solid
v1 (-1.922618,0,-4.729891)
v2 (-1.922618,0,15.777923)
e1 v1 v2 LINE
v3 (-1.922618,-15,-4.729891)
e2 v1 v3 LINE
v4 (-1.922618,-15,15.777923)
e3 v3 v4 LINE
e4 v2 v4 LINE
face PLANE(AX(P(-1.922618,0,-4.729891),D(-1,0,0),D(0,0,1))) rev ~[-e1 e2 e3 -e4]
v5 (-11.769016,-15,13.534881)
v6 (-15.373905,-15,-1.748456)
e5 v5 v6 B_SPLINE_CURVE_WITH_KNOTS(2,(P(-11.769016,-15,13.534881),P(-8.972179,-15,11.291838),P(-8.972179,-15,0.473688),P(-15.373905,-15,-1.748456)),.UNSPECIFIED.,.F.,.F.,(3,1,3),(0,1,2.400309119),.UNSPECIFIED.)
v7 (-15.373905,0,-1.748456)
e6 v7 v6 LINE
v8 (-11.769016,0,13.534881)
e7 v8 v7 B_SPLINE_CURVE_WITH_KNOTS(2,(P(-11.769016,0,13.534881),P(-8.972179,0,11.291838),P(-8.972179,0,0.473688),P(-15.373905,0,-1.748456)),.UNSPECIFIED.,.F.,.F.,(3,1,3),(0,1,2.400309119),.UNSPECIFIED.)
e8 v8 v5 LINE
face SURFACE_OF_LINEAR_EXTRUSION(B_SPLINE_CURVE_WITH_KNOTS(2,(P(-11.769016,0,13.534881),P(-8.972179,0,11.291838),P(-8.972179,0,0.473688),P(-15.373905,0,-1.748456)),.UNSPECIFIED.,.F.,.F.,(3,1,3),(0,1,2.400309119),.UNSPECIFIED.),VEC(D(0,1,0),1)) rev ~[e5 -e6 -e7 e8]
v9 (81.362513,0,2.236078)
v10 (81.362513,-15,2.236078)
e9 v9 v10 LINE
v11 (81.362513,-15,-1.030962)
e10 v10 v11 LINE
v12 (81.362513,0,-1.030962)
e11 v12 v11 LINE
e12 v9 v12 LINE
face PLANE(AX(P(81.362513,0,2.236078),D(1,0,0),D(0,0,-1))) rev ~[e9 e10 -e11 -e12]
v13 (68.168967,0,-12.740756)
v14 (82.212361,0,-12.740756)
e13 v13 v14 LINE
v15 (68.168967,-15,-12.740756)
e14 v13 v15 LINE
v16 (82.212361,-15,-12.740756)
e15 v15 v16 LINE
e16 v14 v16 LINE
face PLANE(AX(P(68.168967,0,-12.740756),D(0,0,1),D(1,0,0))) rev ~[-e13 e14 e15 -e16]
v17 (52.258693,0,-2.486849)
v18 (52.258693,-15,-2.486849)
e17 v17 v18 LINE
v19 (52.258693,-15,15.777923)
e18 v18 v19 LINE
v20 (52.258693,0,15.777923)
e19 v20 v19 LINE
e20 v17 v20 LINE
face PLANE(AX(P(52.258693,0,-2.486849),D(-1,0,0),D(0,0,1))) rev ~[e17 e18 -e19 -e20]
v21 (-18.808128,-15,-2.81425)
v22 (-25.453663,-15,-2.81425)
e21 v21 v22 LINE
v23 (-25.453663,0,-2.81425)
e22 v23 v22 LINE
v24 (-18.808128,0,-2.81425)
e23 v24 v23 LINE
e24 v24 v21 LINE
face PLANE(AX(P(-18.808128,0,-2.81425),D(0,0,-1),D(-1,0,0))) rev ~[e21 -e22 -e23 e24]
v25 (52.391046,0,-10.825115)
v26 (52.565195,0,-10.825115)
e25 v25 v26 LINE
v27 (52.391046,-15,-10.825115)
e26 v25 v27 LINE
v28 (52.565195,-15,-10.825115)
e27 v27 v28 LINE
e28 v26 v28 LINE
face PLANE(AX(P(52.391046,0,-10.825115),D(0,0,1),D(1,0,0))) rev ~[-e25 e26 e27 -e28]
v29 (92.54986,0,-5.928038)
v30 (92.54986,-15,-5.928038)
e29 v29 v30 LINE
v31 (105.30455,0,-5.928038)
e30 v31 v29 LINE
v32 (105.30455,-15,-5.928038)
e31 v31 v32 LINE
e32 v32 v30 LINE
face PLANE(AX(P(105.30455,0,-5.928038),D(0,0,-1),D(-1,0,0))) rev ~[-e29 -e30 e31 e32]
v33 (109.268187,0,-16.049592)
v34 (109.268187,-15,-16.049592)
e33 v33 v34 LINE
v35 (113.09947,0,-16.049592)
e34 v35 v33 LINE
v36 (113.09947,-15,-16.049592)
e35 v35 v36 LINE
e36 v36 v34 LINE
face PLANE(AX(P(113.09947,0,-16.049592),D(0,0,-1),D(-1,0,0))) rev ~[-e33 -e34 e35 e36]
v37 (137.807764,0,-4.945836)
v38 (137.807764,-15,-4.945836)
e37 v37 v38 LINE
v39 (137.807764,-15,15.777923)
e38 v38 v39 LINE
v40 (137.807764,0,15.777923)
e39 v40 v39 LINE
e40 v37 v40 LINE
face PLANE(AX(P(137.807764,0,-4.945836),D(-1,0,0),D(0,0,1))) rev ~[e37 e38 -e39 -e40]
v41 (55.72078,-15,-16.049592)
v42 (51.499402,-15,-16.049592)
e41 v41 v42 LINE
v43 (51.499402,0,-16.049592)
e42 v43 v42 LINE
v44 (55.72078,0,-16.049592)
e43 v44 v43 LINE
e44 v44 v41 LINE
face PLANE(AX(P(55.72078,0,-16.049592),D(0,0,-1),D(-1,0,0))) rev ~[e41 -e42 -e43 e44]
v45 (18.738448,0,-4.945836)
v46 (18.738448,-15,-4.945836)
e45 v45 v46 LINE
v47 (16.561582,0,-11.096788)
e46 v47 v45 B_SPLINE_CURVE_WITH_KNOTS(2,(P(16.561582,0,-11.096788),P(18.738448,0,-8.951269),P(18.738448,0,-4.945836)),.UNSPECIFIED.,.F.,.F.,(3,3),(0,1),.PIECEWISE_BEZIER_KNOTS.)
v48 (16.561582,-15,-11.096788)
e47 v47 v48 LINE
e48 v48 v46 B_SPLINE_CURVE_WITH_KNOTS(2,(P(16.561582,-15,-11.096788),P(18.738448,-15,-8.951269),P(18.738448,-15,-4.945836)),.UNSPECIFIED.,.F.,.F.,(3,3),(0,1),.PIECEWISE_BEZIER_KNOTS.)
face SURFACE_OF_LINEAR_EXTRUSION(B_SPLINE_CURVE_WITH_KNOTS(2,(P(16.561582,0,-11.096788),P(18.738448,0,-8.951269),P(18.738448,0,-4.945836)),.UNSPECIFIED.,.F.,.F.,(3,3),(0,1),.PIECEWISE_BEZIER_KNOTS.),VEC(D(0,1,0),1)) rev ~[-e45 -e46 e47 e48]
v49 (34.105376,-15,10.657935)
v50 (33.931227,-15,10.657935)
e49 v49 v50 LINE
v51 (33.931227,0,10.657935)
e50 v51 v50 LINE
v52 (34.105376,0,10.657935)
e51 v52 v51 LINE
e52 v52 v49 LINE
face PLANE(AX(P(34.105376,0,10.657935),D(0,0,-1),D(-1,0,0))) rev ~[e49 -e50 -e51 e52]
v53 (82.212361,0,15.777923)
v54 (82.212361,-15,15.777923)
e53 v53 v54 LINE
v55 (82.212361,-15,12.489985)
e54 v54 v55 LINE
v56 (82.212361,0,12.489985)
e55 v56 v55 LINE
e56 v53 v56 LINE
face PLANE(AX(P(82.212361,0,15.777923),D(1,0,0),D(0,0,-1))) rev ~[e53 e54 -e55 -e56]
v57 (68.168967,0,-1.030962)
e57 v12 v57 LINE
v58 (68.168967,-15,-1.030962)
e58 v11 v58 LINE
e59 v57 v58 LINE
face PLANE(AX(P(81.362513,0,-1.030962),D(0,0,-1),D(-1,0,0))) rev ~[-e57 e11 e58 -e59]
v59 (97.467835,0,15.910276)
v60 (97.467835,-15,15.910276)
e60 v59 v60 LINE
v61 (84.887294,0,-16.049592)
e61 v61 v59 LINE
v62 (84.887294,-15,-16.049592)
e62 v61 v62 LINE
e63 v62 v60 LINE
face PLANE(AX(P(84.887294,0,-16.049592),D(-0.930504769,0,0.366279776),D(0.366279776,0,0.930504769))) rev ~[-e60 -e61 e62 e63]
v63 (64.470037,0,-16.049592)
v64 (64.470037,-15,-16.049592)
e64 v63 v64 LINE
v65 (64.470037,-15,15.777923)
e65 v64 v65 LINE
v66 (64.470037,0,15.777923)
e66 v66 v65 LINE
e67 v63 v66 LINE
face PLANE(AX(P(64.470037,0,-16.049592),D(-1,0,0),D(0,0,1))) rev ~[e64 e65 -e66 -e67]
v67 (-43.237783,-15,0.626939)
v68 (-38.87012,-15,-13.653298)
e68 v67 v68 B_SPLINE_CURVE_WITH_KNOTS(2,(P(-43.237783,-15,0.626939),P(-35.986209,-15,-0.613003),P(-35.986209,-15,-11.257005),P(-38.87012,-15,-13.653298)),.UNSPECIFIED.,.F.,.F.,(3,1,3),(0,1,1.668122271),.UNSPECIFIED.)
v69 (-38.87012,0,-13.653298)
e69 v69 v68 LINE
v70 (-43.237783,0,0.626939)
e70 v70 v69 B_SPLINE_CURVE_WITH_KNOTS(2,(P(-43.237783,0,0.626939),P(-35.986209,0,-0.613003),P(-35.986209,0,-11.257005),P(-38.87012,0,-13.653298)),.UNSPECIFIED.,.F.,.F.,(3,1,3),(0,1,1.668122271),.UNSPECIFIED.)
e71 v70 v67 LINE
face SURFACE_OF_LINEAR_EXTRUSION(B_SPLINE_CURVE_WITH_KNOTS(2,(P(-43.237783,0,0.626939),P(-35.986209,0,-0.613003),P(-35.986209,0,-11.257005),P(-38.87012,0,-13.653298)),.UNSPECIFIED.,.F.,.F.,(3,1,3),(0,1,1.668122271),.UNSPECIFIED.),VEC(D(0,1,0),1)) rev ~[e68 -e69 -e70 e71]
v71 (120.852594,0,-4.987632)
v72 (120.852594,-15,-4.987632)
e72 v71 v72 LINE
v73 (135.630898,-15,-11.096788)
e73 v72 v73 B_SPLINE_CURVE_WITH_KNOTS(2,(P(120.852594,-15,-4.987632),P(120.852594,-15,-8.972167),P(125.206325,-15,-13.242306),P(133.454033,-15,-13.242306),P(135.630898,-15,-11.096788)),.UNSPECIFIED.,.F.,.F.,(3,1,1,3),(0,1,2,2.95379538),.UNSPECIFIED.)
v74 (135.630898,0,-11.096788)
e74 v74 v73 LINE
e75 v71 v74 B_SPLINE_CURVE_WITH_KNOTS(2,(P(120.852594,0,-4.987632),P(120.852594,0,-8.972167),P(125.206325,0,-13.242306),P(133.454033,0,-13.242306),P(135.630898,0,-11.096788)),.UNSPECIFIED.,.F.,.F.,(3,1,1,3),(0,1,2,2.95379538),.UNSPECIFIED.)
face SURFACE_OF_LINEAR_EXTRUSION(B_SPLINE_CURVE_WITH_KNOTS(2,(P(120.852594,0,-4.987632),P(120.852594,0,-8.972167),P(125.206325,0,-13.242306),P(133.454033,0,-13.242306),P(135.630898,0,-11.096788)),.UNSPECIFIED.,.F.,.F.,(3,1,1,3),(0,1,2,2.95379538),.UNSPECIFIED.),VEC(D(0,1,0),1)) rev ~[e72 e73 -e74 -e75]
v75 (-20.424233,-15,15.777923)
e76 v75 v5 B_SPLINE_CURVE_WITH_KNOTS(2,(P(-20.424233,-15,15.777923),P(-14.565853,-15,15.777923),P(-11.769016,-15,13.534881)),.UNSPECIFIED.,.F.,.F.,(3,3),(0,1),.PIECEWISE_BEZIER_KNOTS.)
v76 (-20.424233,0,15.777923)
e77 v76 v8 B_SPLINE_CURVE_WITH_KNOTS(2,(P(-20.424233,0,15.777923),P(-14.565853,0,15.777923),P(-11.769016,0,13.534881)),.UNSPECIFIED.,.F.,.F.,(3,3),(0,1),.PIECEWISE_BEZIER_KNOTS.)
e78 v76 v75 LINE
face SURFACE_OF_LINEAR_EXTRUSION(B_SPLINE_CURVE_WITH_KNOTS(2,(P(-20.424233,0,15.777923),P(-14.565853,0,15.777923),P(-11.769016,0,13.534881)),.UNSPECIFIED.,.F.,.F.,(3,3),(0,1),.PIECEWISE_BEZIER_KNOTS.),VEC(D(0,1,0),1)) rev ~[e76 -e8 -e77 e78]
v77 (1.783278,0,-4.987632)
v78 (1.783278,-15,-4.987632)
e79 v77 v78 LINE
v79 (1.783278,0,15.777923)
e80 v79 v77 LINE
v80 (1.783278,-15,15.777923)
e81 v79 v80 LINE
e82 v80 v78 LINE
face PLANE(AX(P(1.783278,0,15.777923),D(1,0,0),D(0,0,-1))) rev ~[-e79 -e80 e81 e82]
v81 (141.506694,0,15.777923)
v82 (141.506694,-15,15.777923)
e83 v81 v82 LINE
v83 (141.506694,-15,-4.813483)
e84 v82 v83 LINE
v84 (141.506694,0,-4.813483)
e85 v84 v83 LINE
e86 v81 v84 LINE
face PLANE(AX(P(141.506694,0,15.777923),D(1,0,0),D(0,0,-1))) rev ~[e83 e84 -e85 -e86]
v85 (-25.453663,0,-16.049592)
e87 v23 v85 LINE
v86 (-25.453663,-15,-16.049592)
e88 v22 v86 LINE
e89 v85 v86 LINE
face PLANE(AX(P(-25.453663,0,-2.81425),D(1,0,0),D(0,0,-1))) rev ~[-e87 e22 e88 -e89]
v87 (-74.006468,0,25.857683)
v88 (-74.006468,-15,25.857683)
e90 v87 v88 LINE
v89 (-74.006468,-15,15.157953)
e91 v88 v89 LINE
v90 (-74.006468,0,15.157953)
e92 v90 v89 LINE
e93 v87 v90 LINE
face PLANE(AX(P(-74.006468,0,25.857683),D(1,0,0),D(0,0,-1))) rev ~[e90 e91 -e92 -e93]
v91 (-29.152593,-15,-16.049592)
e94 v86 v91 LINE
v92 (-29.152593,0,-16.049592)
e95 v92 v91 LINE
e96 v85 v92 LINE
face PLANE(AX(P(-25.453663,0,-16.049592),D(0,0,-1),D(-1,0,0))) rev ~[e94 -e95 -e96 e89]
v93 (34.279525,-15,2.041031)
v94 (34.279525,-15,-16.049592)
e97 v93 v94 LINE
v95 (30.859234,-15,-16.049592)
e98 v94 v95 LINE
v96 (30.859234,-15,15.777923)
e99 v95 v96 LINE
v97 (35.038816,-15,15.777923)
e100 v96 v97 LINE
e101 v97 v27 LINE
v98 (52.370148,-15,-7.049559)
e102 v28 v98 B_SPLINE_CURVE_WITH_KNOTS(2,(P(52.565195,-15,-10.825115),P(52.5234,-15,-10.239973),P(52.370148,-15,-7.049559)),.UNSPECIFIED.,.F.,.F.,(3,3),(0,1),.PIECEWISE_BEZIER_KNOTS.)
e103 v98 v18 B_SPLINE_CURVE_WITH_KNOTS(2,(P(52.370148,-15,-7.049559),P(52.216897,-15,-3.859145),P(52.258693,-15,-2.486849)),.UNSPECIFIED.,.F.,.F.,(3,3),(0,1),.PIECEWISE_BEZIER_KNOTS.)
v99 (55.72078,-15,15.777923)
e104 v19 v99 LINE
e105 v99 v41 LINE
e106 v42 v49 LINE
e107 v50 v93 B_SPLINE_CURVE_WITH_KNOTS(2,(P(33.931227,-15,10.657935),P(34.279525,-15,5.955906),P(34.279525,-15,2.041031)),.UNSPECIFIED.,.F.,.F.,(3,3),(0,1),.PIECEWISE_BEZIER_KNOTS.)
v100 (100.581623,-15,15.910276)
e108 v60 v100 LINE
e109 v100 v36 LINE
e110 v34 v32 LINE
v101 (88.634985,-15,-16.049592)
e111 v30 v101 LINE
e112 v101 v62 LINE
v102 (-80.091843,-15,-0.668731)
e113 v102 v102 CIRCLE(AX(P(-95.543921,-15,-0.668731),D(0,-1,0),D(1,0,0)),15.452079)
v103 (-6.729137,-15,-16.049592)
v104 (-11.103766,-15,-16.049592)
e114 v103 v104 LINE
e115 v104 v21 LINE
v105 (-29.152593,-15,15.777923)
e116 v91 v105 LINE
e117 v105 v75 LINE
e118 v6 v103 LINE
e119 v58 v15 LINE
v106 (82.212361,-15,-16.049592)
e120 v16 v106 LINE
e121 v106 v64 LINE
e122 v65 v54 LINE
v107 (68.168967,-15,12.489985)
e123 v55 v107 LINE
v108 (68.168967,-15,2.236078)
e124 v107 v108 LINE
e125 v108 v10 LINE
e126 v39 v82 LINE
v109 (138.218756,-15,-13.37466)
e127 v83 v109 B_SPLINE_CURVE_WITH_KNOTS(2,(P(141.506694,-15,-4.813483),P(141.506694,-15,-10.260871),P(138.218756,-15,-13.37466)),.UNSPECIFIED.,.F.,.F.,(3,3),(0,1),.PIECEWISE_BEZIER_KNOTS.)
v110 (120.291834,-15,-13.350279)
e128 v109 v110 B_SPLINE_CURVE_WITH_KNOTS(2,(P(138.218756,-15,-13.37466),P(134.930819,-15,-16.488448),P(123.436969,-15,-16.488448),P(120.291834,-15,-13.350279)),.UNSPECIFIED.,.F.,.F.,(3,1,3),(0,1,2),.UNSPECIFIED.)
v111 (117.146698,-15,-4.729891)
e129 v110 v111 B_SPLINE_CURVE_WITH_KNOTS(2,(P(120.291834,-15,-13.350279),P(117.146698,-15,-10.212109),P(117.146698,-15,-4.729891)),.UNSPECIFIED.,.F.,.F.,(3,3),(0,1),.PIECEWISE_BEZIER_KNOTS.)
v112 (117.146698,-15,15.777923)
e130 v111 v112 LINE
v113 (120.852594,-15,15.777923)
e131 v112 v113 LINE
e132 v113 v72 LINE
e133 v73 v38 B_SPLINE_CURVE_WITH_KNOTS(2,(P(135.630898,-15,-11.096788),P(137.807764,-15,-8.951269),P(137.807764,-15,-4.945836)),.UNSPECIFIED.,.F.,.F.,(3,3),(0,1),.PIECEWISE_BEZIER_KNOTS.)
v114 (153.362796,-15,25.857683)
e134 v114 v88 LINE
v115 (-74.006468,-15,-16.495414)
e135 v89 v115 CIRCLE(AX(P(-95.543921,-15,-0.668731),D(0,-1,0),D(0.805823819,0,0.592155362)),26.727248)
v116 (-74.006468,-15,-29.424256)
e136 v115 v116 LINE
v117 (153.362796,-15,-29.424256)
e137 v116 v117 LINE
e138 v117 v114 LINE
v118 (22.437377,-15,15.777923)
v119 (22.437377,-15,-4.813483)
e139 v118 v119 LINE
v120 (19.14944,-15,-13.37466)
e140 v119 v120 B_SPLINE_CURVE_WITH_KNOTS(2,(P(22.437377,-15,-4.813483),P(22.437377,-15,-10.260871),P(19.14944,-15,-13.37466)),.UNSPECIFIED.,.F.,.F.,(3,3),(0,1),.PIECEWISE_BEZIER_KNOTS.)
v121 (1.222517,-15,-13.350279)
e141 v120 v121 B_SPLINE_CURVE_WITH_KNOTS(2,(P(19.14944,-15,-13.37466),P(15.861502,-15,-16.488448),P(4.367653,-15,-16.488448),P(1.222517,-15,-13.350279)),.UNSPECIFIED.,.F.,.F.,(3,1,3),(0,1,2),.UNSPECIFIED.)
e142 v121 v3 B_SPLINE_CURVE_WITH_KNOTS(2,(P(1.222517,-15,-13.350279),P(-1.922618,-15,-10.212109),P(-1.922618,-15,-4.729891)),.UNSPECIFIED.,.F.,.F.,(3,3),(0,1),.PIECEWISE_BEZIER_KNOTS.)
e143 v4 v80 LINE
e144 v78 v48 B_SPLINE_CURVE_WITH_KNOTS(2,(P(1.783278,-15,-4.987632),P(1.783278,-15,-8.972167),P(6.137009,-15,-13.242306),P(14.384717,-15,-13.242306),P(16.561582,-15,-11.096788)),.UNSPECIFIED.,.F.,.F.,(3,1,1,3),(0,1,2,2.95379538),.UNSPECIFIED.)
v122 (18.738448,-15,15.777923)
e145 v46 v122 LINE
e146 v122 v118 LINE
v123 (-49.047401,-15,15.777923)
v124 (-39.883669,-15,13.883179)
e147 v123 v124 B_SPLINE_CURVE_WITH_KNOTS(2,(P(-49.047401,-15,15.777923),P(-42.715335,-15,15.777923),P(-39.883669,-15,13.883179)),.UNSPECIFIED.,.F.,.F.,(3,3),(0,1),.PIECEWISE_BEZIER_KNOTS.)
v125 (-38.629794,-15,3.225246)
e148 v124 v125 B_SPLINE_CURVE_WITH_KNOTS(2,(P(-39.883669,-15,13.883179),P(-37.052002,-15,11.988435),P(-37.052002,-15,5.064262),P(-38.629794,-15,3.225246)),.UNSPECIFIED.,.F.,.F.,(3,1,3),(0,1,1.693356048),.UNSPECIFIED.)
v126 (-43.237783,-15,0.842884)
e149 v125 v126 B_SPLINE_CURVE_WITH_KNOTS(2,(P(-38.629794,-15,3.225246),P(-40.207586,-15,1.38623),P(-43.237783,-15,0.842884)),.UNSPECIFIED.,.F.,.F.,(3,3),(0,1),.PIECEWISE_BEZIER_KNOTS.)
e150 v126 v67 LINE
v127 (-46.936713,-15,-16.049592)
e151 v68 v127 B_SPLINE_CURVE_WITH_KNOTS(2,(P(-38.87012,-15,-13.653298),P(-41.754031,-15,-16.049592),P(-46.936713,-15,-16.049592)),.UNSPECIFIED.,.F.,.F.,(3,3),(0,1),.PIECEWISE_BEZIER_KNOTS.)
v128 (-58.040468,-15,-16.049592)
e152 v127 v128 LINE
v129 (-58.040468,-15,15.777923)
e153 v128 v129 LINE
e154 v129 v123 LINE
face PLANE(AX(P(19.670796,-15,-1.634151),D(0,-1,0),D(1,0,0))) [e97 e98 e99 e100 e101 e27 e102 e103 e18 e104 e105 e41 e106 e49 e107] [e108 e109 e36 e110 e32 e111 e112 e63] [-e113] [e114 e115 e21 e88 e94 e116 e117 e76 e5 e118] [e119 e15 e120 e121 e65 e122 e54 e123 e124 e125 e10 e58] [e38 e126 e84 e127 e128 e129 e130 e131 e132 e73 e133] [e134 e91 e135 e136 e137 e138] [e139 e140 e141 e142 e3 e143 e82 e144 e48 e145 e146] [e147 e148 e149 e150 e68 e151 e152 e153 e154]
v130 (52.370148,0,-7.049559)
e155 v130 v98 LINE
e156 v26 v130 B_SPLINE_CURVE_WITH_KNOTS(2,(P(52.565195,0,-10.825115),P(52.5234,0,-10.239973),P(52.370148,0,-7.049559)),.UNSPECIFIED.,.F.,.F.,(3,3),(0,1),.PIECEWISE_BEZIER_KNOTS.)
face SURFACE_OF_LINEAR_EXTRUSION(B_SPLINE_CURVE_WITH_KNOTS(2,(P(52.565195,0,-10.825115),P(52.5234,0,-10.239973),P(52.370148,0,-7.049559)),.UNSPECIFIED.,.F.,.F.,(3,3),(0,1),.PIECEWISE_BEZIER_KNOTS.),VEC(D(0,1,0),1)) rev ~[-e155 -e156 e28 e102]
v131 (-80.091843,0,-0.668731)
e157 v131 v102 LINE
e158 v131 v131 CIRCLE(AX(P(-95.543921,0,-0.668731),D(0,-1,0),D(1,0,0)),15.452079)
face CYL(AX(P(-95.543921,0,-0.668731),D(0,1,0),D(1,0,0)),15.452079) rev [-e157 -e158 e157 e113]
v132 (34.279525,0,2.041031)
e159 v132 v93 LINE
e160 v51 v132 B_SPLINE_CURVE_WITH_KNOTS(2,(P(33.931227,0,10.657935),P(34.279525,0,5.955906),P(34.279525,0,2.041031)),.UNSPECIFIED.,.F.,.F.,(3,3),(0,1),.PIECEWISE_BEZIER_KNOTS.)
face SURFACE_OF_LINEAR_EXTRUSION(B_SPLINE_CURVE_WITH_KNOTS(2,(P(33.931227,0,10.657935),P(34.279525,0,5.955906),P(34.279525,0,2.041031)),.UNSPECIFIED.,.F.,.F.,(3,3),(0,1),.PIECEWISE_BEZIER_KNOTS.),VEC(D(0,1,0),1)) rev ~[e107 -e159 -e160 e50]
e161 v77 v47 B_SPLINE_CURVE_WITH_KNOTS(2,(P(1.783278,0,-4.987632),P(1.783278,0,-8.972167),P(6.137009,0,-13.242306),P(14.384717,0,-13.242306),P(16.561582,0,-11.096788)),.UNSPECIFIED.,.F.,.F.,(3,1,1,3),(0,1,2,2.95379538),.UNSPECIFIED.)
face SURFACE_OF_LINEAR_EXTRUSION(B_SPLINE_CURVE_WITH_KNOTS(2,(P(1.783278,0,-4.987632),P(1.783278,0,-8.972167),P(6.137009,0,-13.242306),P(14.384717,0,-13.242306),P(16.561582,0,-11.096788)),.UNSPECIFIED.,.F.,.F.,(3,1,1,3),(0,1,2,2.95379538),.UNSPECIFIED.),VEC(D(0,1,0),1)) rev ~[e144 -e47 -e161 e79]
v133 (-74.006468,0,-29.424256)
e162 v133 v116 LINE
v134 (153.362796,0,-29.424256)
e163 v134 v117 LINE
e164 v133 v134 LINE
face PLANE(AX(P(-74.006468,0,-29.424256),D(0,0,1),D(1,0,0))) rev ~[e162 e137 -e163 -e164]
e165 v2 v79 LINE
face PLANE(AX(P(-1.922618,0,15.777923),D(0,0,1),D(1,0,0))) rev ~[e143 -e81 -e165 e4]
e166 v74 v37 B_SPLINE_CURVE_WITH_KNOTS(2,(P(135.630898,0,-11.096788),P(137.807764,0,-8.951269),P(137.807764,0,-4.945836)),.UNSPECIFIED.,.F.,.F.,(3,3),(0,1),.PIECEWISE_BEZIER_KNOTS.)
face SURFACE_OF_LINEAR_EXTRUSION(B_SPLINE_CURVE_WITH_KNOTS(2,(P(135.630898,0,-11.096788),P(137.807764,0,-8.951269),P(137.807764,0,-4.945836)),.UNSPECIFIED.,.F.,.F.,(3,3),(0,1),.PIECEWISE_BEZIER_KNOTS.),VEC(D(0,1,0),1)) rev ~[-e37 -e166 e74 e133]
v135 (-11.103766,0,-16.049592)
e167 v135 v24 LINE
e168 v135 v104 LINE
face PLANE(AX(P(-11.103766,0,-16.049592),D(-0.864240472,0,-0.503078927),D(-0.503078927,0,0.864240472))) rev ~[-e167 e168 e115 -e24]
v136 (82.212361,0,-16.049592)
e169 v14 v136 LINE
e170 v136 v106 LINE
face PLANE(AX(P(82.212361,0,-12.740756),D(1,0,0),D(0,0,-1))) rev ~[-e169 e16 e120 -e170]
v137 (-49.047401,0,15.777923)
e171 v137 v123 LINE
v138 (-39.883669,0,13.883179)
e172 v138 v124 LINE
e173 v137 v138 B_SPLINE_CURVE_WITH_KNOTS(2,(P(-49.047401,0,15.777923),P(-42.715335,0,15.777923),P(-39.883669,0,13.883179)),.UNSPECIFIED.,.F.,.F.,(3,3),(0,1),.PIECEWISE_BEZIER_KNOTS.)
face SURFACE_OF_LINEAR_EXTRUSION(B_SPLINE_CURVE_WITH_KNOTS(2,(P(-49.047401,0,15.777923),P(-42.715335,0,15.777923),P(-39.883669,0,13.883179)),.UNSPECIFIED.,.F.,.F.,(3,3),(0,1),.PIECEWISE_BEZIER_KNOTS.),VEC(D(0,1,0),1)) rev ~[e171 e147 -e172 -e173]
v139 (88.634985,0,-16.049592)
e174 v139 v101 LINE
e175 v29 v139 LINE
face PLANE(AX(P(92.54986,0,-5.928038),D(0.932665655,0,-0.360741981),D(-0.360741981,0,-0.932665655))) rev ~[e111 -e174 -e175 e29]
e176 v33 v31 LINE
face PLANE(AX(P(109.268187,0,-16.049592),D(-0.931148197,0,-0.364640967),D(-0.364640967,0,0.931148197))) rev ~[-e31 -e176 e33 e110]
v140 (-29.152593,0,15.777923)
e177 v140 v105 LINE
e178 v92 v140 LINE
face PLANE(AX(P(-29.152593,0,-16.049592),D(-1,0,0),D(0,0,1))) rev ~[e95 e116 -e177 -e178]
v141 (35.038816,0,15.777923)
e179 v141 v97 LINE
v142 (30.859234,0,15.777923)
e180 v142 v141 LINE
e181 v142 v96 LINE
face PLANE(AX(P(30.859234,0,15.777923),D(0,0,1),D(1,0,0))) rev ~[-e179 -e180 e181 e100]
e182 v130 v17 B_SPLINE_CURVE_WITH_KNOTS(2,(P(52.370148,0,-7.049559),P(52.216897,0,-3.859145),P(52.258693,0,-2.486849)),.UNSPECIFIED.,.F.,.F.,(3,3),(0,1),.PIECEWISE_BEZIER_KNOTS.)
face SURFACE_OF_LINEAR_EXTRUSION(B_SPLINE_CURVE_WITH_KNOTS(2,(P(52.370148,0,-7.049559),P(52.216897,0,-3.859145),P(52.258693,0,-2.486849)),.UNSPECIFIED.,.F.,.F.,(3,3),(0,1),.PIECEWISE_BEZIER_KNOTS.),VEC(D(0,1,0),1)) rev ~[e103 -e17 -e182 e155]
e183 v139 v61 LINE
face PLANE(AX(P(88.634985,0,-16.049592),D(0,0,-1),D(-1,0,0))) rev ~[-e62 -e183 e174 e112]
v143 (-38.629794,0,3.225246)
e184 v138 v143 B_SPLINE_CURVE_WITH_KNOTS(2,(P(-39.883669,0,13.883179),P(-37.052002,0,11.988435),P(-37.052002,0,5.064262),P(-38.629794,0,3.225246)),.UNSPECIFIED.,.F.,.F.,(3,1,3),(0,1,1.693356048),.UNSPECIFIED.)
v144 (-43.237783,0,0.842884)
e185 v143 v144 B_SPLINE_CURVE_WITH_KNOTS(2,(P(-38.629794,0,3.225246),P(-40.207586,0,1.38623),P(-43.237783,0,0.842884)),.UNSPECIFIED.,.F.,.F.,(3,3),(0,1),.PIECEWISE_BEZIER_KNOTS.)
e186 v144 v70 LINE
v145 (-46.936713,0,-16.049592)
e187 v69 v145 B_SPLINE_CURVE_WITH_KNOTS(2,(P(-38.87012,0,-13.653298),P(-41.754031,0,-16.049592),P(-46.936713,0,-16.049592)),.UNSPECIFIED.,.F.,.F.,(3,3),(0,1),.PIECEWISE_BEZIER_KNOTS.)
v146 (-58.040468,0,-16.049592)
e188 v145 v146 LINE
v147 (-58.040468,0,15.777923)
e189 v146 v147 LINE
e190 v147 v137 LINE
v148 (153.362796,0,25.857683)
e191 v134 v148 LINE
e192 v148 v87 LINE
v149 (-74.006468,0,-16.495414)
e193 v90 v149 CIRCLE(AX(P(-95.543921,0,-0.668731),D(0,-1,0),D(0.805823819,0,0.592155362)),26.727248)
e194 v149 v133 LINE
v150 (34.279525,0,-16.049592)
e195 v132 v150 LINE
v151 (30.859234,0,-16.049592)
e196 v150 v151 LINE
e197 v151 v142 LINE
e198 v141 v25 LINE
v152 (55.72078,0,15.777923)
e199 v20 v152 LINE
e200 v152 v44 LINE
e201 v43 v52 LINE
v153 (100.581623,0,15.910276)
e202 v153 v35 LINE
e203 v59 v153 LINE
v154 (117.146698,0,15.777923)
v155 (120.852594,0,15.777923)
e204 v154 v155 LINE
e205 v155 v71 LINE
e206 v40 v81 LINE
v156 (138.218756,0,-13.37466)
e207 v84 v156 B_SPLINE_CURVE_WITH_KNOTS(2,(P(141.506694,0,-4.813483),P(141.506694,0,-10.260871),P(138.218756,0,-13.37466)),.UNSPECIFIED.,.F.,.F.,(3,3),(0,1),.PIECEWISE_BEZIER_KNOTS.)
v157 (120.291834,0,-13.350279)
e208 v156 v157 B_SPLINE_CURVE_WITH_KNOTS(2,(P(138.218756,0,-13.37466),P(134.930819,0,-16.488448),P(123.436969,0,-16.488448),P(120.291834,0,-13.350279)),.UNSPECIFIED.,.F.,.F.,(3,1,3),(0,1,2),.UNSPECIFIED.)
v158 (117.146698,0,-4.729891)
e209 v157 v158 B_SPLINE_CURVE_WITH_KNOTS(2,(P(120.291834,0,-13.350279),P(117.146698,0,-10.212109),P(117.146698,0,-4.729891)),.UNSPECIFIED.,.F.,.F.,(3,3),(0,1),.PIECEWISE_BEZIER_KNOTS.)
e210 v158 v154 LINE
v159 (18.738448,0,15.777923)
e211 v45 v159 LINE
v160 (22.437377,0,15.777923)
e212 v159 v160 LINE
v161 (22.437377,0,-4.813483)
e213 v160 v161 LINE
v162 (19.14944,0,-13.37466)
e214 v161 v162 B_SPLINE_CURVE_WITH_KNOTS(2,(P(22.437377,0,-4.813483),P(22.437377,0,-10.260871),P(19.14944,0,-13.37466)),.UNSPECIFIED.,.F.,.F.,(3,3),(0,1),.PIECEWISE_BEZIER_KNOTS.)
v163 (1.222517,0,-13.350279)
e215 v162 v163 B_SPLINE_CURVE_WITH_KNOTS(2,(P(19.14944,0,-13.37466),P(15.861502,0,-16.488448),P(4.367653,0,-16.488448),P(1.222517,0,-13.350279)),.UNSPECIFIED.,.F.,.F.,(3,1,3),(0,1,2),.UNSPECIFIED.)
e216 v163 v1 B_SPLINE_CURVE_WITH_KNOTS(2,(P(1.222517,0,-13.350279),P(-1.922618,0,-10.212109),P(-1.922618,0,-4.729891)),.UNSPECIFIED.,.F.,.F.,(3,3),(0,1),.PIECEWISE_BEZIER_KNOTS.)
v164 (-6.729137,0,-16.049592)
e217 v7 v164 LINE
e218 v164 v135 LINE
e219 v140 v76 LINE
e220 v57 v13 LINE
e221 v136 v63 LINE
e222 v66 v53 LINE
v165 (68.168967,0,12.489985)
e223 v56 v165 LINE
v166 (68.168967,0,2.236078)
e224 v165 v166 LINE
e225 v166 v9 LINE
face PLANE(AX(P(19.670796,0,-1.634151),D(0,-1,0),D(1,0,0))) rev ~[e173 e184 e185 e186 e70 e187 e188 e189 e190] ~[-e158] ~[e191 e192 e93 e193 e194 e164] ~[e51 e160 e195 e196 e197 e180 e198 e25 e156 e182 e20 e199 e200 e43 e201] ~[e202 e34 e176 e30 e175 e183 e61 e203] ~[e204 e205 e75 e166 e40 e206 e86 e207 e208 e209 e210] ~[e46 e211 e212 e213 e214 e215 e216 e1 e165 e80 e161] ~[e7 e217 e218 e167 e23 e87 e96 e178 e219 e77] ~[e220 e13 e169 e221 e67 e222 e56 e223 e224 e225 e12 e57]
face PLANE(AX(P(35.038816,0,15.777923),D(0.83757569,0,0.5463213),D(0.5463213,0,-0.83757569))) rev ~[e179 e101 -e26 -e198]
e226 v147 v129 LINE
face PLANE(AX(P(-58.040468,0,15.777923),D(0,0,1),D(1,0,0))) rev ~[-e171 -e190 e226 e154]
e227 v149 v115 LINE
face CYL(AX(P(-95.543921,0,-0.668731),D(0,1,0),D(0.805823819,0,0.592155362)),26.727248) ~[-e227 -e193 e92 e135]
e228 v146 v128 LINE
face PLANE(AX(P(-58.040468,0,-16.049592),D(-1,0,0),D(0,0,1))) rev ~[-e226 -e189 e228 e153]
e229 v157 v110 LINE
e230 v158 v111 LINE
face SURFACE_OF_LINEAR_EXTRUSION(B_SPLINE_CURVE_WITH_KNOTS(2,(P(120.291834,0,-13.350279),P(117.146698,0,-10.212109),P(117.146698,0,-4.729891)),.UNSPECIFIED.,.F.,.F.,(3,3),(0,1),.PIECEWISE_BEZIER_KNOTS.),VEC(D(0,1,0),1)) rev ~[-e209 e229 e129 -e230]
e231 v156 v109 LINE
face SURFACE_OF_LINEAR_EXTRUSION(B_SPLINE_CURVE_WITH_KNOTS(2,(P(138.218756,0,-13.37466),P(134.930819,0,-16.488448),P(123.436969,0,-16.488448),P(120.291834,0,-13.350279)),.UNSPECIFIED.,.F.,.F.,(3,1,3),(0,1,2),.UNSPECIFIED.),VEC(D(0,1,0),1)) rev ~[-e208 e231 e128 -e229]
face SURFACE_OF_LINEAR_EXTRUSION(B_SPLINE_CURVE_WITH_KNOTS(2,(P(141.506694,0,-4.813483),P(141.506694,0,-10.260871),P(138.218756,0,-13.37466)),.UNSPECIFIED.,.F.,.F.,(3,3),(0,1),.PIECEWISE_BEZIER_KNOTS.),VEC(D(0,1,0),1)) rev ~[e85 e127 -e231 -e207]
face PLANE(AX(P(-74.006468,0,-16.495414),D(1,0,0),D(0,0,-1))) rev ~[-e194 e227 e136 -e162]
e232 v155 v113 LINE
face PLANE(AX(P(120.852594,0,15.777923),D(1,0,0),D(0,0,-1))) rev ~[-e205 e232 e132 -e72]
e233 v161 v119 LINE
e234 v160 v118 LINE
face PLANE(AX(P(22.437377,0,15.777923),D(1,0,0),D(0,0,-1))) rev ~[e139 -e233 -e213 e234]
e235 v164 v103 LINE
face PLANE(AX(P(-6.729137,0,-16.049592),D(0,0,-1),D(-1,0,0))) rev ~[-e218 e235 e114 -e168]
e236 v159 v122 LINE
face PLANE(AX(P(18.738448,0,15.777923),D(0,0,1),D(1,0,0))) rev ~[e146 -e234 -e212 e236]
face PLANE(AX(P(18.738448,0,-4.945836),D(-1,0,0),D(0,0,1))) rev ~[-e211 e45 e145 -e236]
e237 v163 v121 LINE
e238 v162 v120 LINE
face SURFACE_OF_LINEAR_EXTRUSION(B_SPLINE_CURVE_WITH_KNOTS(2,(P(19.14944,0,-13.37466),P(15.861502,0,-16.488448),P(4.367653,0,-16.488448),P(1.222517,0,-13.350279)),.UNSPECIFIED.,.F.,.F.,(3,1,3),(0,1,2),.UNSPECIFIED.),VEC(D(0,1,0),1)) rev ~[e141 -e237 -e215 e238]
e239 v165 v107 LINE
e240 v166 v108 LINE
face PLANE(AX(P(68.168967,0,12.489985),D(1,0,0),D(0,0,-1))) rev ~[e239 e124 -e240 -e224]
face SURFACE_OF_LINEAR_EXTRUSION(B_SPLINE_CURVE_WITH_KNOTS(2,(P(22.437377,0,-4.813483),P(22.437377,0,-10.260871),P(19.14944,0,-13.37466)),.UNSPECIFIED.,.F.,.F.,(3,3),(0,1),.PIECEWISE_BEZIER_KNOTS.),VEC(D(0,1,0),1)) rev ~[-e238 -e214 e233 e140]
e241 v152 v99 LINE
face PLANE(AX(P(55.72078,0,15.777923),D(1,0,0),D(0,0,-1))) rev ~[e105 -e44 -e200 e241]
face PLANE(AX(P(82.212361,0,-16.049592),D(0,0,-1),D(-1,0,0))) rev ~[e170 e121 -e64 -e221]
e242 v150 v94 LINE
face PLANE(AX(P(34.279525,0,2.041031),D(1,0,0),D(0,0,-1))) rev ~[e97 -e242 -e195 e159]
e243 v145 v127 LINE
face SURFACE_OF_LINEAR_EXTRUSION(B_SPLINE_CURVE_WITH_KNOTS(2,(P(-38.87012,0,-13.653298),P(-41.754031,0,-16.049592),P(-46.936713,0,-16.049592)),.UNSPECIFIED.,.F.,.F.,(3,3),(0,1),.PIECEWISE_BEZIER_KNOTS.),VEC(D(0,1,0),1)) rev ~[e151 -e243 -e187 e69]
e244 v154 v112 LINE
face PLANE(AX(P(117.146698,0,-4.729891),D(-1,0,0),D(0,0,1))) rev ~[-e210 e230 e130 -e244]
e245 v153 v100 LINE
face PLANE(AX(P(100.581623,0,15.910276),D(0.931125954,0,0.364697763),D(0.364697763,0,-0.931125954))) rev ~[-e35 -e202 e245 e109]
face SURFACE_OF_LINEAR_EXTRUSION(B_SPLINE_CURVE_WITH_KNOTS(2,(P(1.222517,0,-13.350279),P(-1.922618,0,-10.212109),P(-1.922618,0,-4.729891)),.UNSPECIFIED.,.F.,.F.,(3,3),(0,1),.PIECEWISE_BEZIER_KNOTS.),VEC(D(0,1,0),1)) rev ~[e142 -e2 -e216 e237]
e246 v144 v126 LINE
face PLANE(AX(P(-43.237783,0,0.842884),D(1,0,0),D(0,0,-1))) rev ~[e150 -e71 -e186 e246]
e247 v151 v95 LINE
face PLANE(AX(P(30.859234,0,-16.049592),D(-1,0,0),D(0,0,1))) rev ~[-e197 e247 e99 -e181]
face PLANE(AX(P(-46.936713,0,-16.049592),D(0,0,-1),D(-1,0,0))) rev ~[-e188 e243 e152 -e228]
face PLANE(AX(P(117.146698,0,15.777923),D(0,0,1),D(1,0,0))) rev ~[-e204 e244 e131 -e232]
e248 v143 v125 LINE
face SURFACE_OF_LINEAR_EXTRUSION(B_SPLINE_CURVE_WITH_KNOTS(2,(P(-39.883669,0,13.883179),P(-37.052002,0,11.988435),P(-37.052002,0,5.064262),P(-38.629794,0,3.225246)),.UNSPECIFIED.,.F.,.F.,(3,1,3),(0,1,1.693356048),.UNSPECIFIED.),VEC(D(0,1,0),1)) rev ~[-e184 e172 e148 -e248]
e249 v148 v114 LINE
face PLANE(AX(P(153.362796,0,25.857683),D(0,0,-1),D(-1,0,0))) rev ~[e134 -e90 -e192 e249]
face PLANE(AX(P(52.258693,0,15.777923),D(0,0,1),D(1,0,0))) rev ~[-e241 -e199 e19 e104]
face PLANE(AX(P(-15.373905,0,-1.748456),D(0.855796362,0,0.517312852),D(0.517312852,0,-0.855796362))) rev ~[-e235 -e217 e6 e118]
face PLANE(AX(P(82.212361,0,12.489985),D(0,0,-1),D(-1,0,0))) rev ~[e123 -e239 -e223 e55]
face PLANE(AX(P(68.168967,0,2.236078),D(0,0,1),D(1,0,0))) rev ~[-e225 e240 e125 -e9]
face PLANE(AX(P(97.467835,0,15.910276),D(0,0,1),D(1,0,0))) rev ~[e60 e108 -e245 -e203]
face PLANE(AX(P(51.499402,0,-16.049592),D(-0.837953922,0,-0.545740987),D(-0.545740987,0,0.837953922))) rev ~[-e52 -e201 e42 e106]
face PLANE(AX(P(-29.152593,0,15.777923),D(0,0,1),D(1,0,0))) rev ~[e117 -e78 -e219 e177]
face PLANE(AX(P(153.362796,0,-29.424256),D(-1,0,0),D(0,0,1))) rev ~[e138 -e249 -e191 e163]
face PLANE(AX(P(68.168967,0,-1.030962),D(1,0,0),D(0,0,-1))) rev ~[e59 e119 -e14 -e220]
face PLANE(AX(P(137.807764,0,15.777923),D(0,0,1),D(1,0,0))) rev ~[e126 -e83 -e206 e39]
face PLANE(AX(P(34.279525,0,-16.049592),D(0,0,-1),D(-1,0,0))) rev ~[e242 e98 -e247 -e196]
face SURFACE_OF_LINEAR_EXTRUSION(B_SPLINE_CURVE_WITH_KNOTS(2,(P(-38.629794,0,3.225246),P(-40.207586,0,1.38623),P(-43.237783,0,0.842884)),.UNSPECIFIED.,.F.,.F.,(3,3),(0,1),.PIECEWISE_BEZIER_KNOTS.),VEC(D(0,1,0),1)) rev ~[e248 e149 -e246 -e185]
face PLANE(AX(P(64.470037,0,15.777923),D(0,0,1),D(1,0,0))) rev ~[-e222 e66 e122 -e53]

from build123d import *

# Parameters (mm, degrees)
F0_R     = 15.4520785229
F1_DEPTH = 15


with BuildPart() as f1:
    # F0 (on Front) → F1 (new body)
    with BuildSketch(Plane.XZ):
        with BuildLine():
            Line((153.3627957106, 25.8576832712), (-74.0064680576, 25.8576832712))
            Line((-74.0064680576, 25.8576832712), (-74.0064680576, 15.1579529047))
            ThreePointArc((-74.0064680576, 15.1579529047), (-122.2711699364, -0.6687305868), (-74.0064680576, -16.4954140782))
            Line((-74.0064680576, -16.4954140782), (-74.0064680576, -29.4242557138))
            Line((-74.0064680576, -29.4242557138), (153.3627957106, -29.4242557138))
            Line((153.3627957106, -29.4242557138), (153.3627957106, 25.8576832712))
        make_face()
        with Locations((-95.5439214778, -0.6687305868)):
            Circle(F0_R, mode=Mode.SUBTRACT)
        with BuildLine():
            Line((-58.040468074, -16.0495918244), (-58.040468074, 15.7779227399))
            Line((-58.040468074, 15.7779227399), (-49.0474014724, 15.7779227399))
            add(Edge.make_bspline(
                [(-49.0474014724, 15.7779227399), (-42.7153352131, 15.7779227399), (-39.8836686185, 13.8831790407)],
                knots=[0, 0, 0, 1, 1, 1], degree=2))
            add(Edge.make_bspline(
                [(-39.8836686185, 13.8831790407), (-37.052002024, 11.9884353416), (-37.052002024, 7.8994112555)],
                knots=[0, 0, 0, 1, 1, 1], degree=2))
            add(Edge.make_bspline(
                [(-37.052002024, 7.8994112555), (-37.052002024, 5.0642616762), (-38.6297941117, 3.2252457329)],
                knots=[0, 0, 0, 1, 1, 1], degree=2))
            add(Edge.make_bspline(
                [(-38.6297941117, 3.2252457329), (-40.2075861995, 1.3862297896), (-43.2377829242, 0.84288417)],
                knots=[0, 0, 0, 1, 1, 1], degree=2))
            Line((-43.2377829242, 0.84288417), (-43.2377829242, 0.626939116))
            add(Edge.make_bspline(
                [(-43.2377829242, 0.626939116), (-35.9862086932, -0.6130034518), (-35.9862086932, -6.9938314975)],
                knots=[0, 0, 0, 1, 1, 1], degree=2))
            add(Edge.make_bspline(
                [(-35.9862086932, -6.9938314975), (-35.9862086932, -11.2570048206), (-38.8701200589, -13.6532983225)],
                knots=[0, 0, 0, 1, 1, 1], degree=2))
            add(Edge.make_bspline(
                [(-38.8701200589, -13.6532983225), (-41.7540314245, -16.0495918244), (-46.9367127193, -16.0495918244)],
                knots=[0, 0, 0, 1, 1, 1], degree=2))
            Line((-46.9367127193, -16.0495918244), (-58.040468074, -16.0495918244))
        make_face(mode=Mode.SUBTRACT)
        with BuildLine():
            Line((-18.80812795, -2.8142498082), (-25.4536628361, -2.8142498082))
            Line((-25.4536628361, -2.8142498082), (-25.4536628361, -16.0495918244))
            Line((-25.4536628361, -16.0495918244), (-29.1525926312, -16.0495918244))
            Line((-29.1525926312, -16.0495918244), (-29.1525926312, 15.7779227399))
            Line((-29.1525926312, 15.7779227399), (-20.4242328699, 15.7779227399))
            add(Edge.make_bspline(
                [(-20.4242328699, 15.7779227399), (-14.5658525354, 15.7779227399), (-11.7690157883, 13.5348805666)],
                knots=[0, 0, 0, 1, 1, 1], degree=2))
            add(Edge.make_bspline(
                [(-11.7690157883, 13.5348805666), (-8.9721790411, 11.2918383933), (-8.9721790411, 6.7848561383)],
                knots=[0, 0, 0, 1, 1, 1], degree=2))
            add(Edge.make_bspline(
                [(-8.9721790411, 6.7848561383), (-8.9721790411, 0.4736877874), (-15.3739049953, -1.7484564774)],
                knots=[0, 0, 0, 1, 1, 1], degree=2))
            Line((-15.3739049953, -1.7484564774), (-6.7291368679, -16.0495918244))
            Line((-6.7291368679, -16.0495918244), (-11.1037657027, -16.0495918244))
            Line((-11.1037657027, -16.0495918244), (-18.80812795, -2.8142498082))
        make_face(mode=Mode.SUBTRACT)
        with BuildLine():
            Line((18.7384475592, 15.7779227399), (22.4373773542, 15.7779227399))
            Line((22.4373773542, 15.7779227399), (22.4373773542, -4.8134830496))
            add(Edge.make_bspline(
                [(22.4373773542, -4.8134830496), (22.4373773542, -10.2608711847), (19.1494397586, -13.3746595432)],
                knots=[0, 0, 0, 1, 1, 1], degree=2))
            add(Edge.make_bspline(
                [(19.1494397586, -13.3746595432), (15.861502163, -16.4884479018), (10.1145773402, -16.4884479018)],
                knots=[0, 0, 0, 1, 1, 1], degree=2))
            add(Edge.make_bspline(
                [(10.1145773402, -16.4884479018), (4.3676525173, -16.4884479018), (1.2225172961, -13.35027865)],
                knots=[0, 0, 0, 1, 1, 1], degree=2))
            add(Edge.make_bspline(
                [(1.2225172961, -13.35027865), (-1.9226179251, -10.2121093983), (-1.9226179251, -4.7298914158)],
                knots=[0, 0, 0, 1, 1, 1], degree=2))
            Line((-1.9226179251, -4.7298914158), (-1.9226179251, 15.7779227399))
            Line((-1.9226179251, 15.7779227399), (1.7832778394, 15.7779227399))
            Line((1.7832778394, 15.7779227399), (1.7832778394, -4.9876322866))
            add(Edge.make_bspline(
                [(1.7832778394, -4.9876322866), (1.7832778394, -8.9721668305), (3.9601433026, -11.1072364768)],
                knots=[0, 0, 0, 1, 1, 1], degree=2))
            add(Edge.make_bspline(
                [(3.9601433026, -11.1072364768), (6.1370087658, -13.2423061231), (10.358386272, -13.2423061231)],
                knots=[0, 0, 0, 1, 1, 1], degree=2))
            add(Edge.make_bspline(
                [(10.358386272, -13.2423061231), (14.3847166328, -13.2423061231), (16.561582096, -11.0967875225)],
                knots=[0, 0, 0, 1, 1, 1], degree=2))
            add(Edge.make_bspline(
                [(16.561582096, -11.0967875225), (18.7384475592, -8.951268922), (18.7384475592, -4.9458364697)],
                knots=[0, 0, 0, 1, 1, 1], degree=2))
            Line((18.7384475592, -4.9458364697), (18.7384475592, 15.7779227399))
        make_face(mode=Mode.SUBTRACT)
        with BuildLine():
            Line((55.7207795403, 15.7779227399), (55.7207795403, -16.0495918244))
            Line((55.7207795403, -16.0495918244), (51.4994020341, -16.0495918244))
            Line((51.4994020341, -16.0495918244), (34.105376237, 10.6579351705))
            Line((34.105376237, 10.6579351705), (33.9312269999, 10.6579351705))
            add(Edge.make_bspline(
                [(33.9312269999, 10.6579351705), (34.279525474, 5.95590577), (34.279525474, 2.0410309209)],
                knots=[0, 0, 0, 1, 1, 1], degree=2))
            Line((34.279525474, 2.0410309209), (34.279525474, -16.0495918244))
            Line((34.279525474, -16.0495918244), (30.8592344582, -16.0495918244))
            Line((30.8592344582, -16.0495918244), (30.8592344582, 15.7779227399))
            Line((30.8592344582, 15.7779227399), (35.0388161476, 15.7779227399))
            Line((35.0388161476, 15.7779227399), (52.3910461278, -10.8251147127))
            Line((52.3910461278, -10.8251147127), (52.5651953649, -10.8251147127))
            add(Edge.make_bspline(
                [(52.5651953649, -10.8251147127), (52.523399548, -10.2399732762), (52.3701482194, -7.0495592534)],
                knots=[0, 0, 0, 1, 1, 1], degree=2))
            add(Edge.make_bspline(
                [(52.3701482194, -7.0495592534), (52.2168968908, -3.8591452305), (52.2586927077, -2.4868492425)],
                knots=[0, 0, 0, 1, 1, 1], degree=2))
            Line((52.2586927077, -2.4868492425), (52.2586927077, 15.7779227399))
            Line((52.2586927077, 15.7779227399), (55.7207795403, 15.7779227399))
        make_face(mode=Mode.SUBTRACT)
        Polygon((82.2123614812, -12.7407563204), (82.2123614812, -16.0495918244), (64.47003721, -16.0495918244), (64.47003721, 15.7779227399), (82.2123614812, 15.7779227399), (82.2123614812, 12.4899851443), (68.1689670051, 12.4899851443), (68.1689670051, 2.2360780664), (81.3625132044, 2.2360780664), (81.3625132044, -1.0309616207), (68.1689670051, -1.0309616207), (68.1689670051, -12.7407563204), align=None, mode=Mode.SUBTRACT)
        Polygon((113.0994701655, -16.0495918244), (109.2681869502, -16.0495918244), (105.3045503148, -5.9280381667), (92.5498601929, -5.9280381667), (88.6349853439, -16.0495918244), (84.8872937624, -16.0495918244), (97.4678346473, 15.9102761601), (100.5816230059, 15.9102761601), align=None, mode=Mode.SUBTRACT)
        with BuildLine():
            Line((137.8077639189, 15.7779227399), (141.506693714, 15.7779227399))
            Line((141.506693714, 15.7779227399), (141.506693714, -4.8134830496))
            add(Edge.make_bspline(
                [(141.506693714, -4.8134830496), (141.506693714, -10.2608711847), (138.2187561184, -13.3746595432)],
                knots=[0, 0, 0, 1, 1, 1], degree=2))
            add(Edge.make_bspline(
                [(138.2187561184, -13.3746595432), (134.9308185228, -16.4884479018), (129.1838936999, -16.4884479018)],
                knots=[0, 0, 0, 1, 1, 1], degree=2))
            add(Edge.make_bspline(
                [(129.1838936999, -16.4884479018), (123.4369688771, -16.4884479018), (120.2918336559, -13.35027865)],
                knots=[0, 0, 0, 1, 1, 1], degree=2))
            add(Edge.make_bspline(
                [(120.2918336559, -13.35027865), (117.1466984346, -10.2121093983), (117.1466984346, -4.7298914158)],
                knots=[0, 0, 0, 1, 1, 1], degree=2))
            Line((117.1466984346, -4.7298914158), (117.1466984346, 15.7779227399))
            Line((117.1466984346, 15.7779227399), (120.8525941992, 15.7779227399))
            Line((120.8525941992, 15.7779227399), (120.8525941992, -4.9876322866))
            add(Edge.make_bspline(
                [(120.8525941992, -4.9876322866), (120.8525941992, -8.9721668305), (123.0294596624, -11.1072364768)],
                knots=[0, 0, 0, 1, 1, 1], degree=2))
            add(Edge.make_bspline(
                [(123.0294596624, -11.1072364768), (125.2063251256, -13.2423061231), (129.4277026318, -13.2423061231)],
                knots=[0, 0, 0, 1, 1, 1], degree=2))
            add(Edge.make_bspline(
                [(129.4277026318, -13.2423061231), (133.4540329925, -13.2423061231), (135.6308984557, -11.0967875225)],
                knots=[0, 0, 0, 1, 1, 1], degree=2))
            add(Edge.make_bspline(
                [(135.6308984557, -11.0967875225), (137.8077639189, -8.951268922), (137.8077639189, -4.9458364697)],
                knots=[0, 0, 0, 1, 1, 1], degree=2))
            Line((137.8077639189, -4.9458364697), (137.8077639189, 15.7779227399))
        make_face(mode=Mode.SUBTRACT)
    extrude(amount=F1_DEPTH)


solid = f1.part
